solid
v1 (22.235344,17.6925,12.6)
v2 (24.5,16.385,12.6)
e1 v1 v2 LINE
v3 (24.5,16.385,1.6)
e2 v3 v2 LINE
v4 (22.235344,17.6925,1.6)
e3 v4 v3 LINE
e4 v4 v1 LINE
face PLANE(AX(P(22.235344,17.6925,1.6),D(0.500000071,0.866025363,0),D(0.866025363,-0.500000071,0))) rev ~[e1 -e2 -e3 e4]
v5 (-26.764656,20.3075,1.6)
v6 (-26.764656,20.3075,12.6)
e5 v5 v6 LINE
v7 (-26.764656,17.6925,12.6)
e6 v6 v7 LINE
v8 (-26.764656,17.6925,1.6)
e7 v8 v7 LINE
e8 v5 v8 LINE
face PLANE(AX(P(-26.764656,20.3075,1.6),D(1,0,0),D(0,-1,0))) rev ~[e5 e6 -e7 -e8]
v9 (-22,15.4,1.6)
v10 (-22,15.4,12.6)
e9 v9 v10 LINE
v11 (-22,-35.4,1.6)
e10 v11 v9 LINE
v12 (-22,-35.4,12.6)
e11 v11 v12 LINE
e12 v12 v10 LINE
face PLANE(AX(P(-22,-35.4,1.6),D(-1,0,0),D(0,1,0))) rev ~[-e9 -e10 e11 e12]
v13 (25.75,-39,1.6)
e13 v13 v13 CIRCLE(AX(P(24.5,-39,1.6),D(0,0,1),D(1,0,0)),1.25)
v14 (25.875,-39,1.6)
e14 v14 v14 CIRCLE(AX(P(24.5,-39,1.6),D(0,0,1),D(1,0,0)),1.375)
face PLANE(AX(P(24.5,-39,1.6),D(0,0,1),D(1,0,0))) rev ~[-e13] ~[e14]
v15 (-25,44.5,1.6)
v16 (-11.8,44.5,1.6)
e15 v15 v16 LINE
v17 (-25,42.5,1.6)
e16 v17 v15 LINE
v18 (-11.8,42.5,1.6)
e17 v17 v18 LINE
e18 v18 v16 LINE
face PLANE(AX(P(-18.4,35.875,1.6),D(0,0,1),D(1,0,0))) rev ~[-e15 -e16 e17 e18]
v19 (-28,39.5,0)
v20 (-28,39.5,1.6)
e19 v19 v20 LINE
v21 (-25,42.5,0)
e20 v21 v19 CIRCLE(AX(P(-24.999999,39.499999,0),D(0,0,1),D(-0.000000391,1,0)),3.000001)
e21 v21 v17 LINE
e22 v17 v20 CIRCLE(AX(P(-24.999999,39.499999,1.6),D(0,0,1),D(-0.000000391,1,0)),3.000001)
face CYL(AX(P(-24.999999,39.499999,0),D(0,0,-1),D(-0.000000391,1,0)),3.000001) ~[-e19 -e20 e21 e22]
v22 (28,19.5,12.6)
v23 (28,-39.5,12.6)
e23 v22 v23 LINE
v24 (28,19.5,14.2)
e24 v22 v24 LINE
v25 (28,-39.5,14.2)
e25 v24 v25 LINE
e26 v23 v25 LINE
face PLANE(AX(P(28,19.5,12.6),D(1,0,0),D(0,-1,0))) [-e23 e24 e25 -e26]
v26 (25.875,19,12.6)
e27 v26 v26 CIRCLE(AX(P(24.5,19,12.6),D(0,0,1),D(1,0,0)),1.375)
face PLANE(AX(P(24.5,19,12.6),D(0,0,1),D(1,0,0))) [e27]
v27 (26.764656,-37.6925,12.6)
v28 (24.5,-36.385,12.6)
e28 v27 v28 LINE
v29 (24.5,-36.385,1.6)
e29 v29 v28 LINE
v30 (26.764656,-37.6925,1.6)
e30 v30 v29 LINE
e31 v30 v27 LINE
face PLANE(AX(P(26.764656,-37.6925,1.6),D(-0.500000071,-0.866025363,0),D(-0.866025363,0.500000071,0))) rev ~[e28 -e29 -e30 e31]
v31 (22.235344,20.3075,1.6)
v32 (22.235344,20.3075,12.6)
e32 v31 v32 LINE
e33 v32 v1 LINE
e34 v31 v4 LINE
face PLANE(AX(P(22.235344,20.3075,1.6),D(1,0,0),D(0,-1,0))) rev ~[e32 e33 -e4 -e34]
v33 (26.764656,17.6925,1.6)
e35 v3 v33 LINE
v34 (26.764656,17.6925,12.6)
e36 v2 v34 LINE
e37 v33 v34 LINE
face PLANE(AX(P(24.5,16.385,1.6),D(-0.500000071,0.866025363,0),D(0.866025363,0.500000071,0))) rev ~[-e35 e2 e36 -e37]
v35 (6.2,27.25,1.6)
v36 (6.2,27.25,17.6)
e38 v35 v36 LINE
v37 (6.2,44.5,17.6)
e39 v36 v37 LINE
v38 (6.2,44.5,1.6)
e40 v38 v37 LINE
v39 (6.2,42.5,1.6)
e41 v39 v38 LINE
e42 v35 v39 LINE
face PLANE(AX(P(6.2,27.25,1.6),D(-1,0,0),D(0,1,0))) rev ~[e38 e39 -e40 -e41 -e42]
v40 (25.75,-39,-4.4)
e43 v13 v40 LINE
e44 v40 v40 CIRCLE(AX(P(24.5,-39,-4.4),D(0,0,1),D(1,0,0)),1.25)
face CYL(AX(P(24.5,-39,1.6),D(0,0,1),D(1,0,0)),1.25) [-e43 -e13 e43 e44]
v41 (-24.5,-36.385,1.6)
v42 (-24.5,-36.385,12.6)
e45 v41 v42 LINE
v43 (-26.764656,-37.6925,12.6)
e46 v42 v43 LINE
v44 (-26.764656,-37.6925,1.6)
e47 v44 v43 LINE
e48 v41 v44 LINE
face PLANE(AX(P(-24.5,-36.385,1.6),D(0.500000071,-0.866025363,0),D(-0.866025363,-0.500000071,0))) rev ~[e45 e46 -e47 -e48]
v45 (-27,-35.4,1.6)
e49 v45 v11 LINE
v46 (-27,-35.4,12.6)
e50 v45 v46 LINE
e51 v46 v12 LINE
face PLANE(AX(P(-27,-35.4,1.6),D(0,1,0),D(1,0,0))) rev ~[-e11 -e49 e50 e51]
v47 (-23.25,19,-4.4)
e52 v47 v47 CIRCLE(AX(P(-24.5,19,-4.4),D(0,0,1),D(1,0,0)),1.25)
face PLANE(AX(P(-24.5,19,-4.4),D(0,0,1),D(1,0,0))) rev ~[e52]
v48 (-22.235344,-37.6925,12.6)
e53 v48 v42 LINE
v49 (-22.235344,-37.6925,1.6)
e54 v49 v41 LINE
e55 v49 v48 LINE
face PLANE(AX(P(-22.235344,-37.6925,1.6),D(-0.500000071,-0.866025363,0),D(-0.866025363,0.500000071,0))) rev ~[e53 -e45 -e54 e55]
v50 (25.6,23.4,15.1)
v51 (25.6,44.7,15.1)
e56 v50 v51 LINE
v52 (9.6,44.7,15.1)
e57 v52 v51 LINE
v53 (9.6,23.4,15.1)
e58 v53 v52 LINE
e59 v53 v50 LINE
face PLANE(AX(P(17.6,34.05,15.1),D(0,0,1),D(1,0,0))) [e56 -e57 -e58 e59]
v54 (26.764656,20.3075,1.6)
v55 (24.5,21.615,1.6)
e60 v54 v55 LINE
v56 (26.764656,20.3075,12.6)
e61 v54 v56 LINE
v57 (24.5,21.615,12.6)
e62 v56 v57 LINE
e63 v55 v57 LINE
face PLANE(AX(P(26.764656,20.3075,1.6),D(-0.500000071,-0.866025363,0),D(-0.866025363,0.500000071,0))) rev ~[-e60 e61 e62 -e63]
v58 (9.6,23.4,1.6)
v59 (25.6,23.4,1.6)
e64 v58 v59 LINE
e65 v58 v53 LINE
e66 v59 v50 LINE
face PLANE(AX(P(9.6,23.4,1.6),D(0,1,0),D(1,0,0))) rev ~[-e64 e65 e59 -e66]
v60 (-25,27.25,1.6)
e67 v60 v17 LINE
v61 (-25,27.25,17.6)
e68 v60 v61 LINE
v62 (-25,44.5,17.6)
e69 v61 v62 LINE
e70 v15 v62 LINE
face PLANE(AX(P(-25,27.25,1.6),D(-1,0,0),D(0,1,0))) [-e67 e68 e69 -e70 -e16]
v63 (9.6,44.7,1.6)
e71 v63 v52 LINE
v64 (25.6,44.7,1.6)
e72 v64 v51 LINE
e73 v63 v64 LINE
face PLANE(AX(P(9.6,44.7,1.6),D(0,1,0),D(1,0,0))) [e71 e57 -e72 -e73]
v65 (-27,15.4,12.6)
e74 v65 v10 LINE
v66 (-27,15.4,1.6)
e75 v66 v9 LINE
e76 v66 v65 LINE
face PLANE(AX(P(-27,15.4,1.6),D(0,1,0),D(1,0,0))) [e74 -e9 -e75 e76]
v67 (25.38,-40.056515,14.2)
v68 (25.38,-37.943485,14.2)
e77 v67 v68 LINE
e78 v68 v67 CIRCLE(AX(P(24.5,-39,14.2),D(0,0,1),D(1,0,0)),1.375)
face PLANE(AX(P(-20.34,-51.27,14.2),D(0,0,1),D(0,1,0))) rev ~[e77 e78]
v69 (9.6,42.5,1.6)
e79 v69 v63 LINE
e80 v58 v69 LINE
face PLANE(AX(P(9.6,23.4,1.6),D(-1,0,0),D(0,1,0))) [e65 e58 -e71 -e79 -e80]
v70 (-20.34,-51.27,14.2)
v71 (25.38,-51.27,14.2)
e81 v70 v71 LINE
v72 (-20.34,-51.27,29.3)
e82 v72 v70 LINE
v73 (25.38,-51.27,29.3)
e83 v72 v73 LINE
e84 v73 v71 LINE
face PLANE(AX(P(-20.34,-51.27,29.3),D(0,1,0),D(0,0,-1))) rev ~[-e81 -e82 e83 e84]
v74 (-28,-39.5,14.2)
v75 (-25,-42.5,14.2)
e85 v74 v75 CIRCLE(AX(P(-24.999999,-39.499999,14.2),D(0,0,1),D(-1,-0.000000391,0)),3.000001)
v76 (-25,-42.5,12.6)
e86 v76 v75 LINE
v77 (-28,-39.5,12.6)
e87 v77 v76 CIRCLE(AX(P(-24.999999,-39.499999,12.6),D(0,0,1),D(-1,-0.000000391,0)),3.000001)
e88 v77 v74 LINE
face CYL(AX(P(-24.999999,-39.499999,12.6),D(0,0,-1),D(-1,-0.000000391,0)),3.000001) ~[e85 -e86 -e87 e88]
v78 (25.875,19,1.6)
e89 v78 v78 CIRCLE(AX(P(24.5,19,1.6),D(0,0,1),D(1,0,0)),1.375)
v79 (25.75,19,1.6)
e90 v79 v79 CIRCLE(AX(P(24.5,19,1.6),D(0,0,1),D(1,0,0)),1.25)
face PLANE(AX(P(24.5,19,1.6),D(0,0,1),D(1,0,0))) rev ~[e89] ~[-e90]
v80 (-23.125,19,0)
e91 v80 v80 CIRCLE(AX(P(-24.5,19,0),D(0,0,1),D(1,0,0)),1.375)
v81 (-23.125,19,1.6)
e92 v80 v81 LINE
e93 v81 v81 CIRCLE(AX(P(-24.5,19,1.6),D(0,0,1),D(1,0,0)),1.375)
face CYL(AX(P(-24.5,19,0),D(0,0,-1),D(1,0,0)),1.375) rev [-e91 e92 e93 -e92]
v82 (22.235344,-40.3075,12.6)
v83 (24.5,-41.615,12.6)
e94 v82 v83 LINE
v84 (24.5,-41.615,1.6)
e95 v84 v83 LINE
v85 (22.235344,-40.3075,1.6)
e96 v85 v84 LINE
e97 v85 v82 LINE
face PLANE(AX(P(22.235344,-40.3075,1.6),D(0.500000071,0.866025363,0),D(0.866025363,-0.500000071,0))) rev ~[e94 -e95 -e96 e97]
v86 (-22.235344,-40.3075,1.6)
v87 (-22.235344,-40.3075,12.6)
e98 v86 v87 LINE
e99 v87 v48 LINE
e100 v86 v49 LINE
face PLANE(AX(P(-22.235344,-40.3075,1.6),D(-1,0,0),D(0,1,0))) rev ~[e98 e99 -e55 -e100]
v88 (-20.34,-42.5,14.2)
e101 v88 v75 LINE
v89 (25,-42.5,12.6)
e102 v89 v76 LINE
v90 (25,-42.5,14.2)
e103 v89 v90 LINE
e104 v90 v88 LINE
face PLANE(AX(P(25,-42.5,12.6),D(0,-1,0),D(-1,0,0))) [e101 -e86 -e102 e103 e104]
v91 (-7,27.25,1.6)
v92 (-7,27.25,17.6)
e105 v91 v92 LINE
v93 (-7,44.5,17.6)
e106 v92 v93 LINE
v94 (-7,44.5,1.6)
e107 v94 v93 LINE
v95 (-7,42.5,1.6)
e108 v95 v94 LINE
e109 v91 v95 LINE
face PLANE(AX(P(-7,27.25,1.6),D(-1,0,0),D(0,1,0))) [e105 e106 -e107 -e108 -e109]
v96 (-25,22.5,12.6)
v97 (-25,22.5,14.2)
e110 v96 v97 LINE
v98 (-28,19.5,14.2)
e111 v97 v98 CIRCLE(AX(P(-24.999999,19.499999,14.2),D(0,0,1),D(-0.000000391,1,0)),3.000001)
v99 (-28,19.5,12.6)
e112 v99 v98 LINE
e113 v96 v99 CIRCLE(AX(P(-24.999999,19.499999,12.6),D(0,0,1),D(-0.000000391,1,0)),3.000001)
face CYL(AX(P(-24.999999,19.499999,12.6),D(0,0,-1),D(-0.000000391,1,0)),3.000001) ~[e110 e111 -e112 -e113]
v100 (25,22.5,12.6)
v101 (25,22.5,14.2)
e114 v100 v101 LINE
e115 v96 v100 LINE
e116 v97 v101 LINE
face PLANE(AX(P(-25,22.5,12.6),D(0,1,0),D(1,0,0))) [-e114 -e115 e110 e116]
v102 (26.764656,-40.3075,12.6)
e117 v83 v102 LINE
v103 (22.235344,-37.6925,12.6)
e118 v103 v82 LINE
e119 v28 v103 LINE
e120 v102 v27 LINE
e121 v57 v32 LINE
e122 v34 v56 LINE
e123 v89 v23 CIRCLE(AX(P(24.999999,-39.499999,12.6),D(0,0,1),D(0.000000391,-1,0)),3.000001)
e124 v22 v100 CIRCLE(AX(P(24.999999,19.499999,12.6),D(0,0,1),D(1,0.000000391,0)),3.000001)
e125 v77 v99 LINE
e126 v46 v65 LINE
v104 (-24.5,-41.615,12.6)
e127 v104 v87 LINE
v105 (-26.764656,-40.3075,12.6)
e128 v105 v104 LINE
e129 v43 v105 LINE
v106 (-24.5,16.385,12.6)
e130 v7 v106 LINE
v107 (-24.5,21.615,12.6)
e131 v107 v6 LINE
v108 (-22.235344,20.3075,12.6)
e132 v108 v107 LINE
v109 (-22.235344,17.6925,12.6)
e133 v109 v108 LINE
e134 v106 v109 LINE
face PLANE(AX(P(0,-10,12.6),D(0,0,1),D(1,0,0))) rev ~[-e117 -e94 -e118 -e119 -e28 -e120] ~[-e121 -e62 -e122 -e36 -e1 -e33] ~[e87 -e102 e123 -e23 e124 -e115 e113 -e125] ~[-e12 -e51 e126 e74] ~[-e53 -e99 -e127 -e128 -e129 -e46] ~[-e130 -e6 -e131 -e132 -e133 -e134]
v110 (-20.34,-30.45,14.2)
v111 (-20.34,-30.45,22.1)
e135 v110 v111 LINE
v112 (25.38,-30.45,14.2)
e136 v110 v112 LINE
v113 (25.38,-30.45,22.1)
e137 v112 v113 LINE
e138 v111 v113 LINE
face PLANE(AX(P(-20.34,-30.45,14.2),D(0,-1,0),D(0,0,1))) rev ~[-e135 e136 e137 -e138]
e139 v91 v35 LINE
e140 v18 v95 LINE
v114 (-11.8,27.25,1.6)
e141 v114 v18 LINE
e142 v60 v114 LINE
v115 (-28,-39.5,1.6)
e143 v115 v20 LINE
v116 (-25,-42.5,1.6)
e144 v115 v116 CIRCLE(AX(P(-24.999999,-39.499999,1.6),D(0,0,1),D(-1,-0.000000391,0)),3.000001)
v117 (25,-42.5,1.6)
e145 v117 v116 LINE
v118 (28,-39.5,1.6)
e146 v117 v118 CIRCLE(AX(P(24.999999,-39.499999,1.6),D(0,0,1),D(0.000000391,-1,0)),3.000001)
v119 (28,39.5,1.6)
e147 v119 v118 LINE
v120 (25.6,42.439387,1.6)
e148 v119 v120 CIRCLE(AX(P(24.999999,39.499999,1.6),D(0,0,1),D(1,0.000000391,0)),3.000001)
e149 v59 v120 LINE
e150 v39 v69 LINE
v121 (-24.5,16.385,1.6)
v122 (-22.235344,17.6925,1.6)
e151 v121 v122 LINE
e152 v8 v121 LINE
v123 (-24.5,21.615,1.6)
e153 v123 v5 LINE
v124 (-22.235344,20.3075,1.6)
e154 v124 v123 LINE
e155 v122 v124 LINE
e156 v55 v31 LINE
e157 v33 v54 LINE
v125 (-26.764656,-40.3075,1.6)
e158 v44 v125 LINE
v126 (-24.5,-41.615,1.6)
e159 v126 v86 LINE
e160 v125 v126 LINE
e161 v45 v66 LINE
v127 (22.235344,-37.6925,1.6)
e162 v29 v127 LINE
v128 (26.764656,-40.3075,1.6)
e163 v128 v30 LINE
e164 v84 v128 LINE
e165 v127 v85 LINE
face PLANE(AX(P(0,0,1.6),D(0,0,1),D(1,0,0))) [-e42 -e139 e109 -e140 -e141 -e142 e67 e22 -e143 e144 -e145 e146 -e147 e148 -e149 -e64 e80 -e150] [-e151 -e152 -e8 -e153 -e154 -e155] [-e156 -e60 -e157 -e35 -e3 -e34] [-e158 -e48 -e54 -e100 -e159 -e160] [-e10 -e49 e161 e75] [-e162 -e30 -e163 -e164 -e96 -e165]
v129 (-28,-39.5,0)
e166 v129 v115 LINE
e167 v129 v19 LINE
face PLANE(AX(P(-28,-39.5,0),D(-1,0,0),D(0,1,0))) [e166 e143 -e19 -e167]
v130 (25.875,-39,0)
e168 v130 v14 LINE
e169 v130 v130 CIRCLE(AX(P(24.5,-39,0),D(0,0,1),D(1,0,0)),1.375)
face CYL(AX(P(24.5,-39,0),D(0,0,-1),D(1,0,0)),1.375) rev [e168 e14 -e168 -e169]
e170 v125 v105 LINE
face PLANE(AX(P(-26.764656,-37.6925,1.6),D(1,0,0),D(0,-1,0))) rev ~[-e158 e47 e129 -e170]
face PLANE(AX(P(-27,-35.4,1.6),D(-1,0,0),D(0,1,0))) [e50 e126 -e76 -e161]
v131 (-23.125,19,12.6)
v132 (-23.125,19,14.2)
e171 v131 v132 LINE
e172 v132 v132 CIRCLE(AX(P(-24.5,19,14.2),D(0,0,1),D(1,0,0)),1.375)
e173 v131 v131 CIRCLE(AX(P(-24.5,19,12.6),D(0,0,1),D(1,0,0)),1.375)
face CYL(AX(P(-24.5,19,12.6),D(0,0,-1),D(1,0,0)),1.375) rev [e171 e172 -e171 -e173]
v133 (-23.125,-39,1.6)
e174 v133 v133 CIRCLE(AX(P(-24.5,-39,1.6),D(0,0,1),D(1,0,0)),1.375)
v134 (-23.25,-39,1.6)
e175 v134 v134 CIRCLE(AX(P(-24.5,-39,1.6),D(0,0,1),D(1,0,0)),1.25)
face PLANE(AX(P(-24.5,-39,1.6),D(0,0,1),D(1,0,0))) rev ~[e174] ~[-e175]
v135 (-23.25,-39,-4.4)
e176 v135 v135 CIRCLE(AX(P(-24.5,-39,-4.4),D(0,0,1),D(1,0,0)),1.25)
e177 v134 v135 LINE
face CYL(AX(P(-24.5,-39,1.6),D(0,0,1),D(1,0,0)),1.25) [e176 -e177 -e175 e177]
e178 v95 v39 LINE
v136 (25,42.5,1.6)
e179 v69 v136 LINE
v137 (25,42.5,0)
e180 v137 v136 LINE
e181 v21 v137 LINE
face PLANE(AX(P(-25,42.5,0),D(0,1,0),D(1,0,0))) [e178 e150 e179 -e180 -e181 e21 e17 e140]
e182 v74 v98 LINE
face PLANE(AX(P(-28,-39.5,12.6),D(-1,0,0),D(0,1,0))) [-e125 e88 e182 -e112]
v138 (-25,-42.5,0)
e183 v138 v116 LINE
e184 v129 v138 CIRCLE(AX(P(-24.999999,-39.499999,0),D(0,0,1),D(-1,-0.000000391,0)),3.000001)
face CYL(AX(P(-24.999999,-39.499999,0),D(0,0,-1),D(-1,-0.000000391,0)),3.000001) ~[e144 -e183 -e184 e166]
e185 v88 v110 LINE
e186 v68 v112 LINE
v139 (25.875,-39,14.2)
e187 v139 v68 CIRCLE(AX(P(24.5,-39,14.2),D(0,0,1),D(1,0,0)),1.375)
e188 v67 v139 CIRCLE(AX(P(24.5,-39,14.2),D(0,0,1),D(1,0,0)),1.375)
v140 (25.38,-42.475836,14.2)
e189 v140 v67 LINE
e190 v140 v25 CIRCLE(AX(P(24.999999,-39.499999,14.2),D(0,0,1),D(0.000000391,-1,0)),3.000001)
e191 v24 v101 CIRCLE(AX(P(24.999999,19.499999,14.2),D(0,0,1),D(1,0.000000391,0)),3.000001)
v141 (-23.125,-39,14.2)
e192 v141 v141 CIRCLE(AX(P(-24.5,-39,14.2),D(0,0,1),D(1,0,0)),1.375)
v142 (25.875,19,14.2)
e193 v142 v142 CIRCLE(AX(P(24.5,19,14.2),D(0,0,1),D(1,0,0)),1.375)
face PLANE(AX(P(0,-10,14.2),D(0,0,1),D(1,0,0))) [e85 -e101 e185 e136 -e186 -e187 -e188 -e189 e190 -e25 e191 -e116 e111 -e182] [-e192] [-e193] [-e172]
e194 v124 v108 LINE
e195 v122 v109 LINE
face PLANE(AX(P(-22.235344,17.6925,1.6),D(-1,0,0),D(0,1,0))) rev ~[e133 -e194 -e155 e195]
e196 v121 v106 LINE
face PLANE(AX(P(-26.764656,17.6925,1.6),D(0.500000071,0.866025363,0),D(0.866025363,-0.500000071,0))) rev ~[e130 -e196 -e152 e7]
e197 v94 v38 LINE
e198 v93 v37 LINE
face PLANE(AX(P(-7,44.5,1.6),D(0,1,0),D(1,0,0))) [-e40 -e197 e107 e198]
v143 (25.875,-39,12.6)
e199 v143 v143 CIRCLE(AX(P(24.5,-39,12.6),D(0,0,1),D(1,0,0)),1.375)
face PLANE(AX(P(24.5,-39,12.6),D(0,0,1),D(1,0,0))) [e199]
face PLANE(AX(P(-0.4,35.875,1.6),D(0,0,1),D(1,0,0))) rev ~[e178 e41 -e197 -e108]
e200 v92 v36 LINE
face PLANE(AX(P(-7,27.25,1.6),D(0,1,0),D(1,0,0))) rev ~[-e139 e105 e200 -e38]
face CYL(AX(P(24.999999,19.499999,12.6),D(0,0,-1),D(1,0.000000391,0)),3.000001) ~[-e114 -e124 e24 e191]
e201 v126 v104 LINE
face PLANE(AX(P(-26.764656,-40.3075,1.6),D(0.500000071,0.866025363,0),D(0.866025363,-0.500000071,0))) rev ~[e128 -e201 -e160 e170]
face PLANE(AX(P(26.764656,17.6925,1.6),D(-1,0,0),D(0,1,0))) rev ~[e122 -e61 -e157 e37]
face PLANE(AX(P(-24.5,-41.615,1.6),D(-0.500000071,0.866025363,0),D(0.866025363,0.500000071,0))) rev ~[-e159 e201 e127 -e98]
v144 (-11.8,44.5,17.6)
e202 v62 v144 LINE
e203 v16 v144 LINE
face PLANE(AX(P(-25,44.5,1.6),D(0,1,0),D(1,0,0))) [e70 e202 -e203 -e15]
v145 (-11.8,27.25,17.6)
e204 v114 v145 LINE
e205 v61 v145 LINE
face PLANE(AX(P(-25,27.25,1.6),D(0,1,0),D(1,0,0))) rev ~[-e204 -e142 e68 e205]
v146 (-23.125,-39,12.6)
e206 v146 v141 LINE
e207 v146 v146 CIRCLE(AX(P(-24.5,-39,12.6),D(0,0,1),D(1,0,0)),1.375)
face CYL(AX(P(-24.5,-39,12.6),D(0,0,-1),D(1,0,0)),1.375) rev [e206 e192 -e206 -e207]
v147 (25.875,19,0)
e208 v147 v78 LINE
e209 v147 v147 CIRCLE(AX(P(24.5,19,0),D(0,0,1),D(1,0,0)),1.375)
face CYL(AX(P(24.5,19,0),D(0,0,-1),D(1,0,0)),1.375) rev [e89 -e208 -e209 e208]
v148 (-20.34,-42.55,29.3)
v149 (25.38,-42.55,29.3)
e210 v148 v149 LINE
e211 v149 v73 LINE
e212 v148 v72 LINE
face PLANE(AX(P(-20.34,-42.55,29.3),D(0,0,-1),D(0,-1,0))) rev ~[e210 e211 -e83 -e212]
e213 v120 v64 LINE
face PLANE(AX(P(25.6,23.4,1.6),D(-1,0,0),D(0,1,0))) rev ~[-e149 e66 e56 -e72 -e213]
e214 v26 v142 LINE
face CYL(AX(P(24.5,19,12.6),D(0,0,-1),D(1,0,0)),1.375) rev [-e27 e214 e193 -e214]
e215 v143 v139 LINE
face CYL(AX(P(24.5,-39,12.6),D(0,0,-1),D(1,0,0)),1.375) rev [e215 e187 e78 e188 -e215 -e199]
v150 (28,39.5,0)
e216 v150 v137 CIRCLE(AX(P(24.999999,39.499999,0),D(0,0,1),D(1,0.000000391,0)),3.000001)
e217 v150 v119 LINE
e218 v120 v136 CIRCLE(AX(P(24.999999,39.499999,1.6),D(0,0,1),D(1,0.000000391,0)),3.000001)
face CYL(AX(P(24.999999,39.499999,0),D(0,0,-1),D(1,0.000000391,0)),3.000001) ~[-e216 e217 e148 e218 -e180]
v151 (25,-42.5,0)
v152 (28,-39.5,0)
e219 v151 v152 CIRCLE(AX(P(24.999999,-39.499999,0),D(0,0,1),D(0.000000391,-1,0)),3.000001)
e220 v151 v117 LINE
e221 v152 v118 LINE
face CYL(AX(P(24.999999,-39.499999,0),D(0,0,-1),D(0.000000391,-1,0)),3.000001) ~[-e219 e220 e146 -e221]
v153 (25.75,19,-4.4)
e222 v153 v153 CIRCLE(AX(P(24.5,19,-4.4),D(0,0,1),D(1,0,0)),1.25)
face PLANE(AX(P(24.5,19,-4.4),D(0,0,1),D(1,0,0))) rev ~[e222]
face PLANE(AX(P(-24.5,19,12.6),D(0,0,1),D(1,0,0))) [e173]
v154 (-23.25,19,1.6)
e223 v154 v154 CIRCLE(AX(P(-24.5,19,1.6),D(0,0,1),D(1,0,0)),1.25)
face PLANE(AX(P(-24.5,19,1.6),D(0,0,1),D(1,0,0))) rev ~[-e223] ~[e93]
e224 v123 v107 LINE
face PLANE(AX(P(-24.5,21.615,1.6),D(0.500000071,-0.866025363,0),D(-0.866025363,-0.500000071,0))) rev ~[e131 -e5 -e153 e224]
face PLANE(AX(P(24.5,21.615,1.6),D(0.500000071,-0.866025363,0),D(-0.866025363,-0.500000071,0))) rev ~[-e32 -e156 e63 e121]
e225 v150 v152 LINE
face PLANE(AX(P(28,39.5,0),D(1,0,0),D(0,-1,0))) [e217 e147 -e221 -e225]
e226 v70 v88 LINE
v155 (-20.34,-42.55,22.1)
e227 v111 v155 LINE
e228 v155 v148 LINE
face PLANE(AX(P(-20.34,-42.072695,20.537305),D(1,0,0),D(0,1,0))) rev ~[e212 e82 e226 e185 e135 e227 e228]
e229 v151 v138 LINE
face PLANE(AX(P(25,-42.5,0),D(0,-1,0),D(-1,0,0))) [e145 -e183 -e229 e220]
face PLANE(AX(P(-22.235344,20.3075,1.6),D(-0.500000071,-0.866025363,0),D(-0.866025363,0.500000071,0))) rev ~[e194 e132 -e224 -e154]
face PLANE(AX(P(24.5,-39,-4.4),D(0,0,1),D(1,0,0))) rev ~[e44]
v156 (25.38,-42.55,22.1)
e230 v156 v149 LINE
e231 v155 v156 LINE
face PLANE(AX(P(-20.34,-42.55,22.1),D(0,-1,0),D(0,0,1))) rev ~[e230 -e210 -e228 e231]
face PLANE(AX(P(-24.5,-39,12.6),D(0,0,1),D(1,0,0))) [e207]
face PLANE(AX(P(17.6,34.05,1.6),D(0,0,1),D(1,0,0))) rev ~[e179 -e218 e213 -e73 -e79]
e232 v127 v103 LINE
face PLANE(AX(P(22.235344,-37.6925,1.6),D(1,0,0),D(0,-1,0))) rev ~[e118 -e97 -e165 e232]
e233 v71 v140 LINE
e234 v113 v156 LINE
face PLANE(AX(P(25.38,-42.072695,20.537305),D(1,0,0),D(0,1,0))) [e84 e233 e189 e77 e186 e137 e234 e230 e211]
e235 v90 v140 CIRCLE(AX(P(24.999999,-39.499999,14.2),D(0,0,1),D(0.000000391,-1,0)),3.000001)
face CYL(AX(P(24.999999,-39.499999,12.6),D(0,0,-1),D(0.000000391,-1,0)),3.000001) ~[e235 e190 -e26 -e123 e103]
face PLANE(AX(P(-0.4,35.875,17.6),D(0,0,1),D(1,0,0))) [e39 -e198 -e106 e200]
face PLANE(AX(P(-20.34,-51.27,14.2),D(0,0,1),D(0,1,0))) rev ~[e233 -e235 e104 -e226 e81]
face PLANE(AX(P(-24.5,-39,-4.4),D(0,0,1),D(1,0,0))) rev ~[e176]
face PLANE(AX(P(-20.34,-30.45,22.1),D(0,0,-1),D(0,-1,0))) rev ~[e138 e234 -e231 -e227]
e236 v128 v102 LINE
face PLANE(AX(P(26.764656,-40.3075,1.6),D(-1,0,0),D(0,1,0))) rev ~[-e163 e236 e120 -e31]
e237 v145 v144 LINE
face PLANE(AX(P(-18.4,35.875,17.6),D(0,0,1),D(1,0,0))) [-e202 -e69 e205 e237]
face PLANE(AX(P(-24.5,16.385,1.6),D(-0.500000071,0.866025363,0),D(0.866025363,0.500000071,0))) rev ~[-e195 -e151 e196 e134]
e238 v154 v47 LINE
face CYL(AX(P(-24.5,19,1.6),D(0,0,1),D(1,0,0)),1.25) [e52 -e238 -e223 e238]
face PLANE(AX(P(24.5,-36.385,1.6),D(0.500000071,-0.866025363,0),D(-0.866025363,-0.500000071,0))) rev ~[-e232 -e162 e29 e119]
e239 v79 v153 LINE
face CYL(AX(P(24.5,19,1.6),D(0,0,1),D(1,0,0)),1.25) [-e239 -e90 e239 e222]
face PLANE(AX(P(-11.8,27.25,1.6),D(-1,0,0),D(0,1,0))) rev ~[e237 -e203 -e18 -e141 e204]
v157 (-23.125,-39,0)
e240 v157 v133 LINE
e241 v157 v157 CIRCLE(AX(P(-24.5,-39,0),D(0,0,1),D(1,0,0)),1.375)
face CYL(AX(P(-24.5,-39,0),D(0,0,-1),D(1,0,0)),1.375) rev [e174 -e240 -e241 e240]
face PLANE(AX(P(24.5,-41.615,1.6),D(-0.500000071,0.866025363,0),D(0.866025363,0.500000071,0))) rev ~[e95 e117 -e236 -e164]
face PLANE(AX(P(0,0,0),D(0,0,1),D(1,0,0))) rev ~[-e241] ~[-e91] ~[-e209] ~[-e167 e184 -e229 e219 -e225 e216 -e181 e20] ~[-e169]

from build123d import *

# Parameters (mm, degrees)
SKETCH_R     = 1.375
PAD_DEPTH    = 1.6
SKETCH001_W  = 16
SKETCH001_H  = 21.3
PAD001_DEPTH = 13.5
SKETCH002_W  = 13.2
SKETCH002_H  = 17.25
PAD002_DEPTH = 16
PAD008_DEPTH = 11
SKETCH011_R  = 1.25
PAD009_DEPTH = 6
SKETCH012_W  = 5
SKETCH012_H  = 50.8
PAD010_DEPTH = 11
SKETCH013_R  = 1.375
PAD011_DEPTH = 1.6
PAD012_DEPTH = 45.72


with BuildPart() as part:
    # Sketch → Pad (new body)
    with BuildSketch(Plane.XY):
        with BuildLine():
            ThreePointArc((-25, 42.5), (-27.12132, 41.62132), (-28, 39.5))
            Line((-28, -39.5), (-28, 39.5))
            ThreePointArc((-28, -39.5), (-27.12132, -41.62132), (-25, -42.5))
            Line((25, -42.5), (-25, -42.5))
            ThreePointArc((25, -42.5), (27.12132, -41.62132), (28, -39.5))
            Line((28, 39.5), (28, -39.5))
            ThreePointArc((28, 39.5), (27.12132, 41.62132), (25, 42.5))
            Line((-25, 42.5), (25, 42.5))
        make_face()
        with Locations((-24.5, 19)):
            Circle(SKETCH_R, mode=Mode.SUBTRACT)
        with Locations((24.5, 19)):
            Circle(SKETCH_R, mode=Mode.SUBTRACT)
        with Locations((-24.5, -39)):
            Circle(SKETCH_R, mode=Mode.SUBTRACT)
        with Locations((24.5, -39)):
            Circle(SKETCH_R, mode=Mode.SUBTRACT)
    extrude(amount=PAD_DEPTH)

    # Sketch001 → Pad001 (join)
    with BuildSketch(Plane.XY.offset(1.6)):
        with Locations((17.6, 34.05)):
            Rectangle(SKETCH001_W, SKETCH001_H)
    extrude(amount=PAD001_DEPTH)

    # Sketch002 → Pad002 (join)
    with BuildSketch(Plane.XY.offset(1.6)):
        with Locations((-18.4, 35.875)):
            Rectangle(SKETCH002_W, SKETCH002_H)
        with Locations((-0.4, 35.875)):
            Rectangle(SKETCH002_W, SKETCH002_H)
    extrude(amount=PAD002_DEPTH)

    # Sketch010 → Pad008 (join)
    with BuildSketch(Plane.XY.offset(1.6)):
        Polygon((-22.235344, -40.3075), (-22.235344, -37.6925), (-24.5, -36.385), (-26.764656, -37.6925), (-26.764656, -40.3075), (-24.5, -41.615), align=None)
        Polygon((-22.235344, 17.6925), (-22.235344, 20.3075), (-24.5, 21.615), (-26.764656, 20.3075), (-26.764656, 17.6925), (-24.5, 16.385), align=None)
        Polygon((24.5, -41.615), (26.764656, -40.3075), (26.764656, -37.6925), (24.5, -36.385), (22.235344, -37.6925), (22.235344, -40.3075), align=None)
        Polygon((24.5, 16.385), (26.764656, 17.6925), (26.764656, 20.3075), (24.5, 21.615), (22.235344, 20.3075), (22.235344, 17.6925), align=None)
    extrude(amount=PAD008_DEPTH)

    # Sketch011 → Pad009 (join)
    with BuildSketch(Plane.XY.offset(1.6)):
        with Locations((-24.5, 19)):
            Circle(SKETCH011_R)
        with Locations((-24.5, -39)):
            Circle(SKETCH011_R)
        with Locations((24.5, 19)):
            Circle(SKETCH011_R)
        with Locations((24.5, -39)):
            Circle(SKETCH011_R)
    extrude(amount=-PAD009_DEPTH)

    # Sketch012 → Pad010 (join)
    with BuildSketch(Plane.XY.offset(1.6)):
        with Locations((-24.5, -10)):
            Rectangle(SKETCH012_W, SKETCH012_H)
    extrude(amount=PAD010_DEPTH)

    # Sketch013 → Pad011 (join)
    with BuildSketch(Plane.XY.offset(12.6)):
        with BuildLine():
            ThreePointArc((-25, 22.5), (-27.12132, 21.62132), (-28, 19.5))
            Line((-28, -39.5), (-28, 19.5))
            ThreePointArc((-28, -39.5), (-27.12132, -41.62132), (-25, -42.5))
            Line((25, -42.5), (-25, -42.5))
            ThreePointArc((25, -42.5), (27.12132, -41.62132), (28, -39.5))
            Line((28, 19.5), (28, -39.5))
            ThreePointArc((28, 19.5), (27.12132, 21.62132), (25, 22.5))
            Line((-25, 22.5), (25, 22.5))
        make_face()
        with Locations((-24.5, 19)):
            Circle(SKETCH013_R, mode=Mode.SUBTRACT)
        with Locations((24.5, 19)):
            Circle(SKETCH013_R, mode=Mode.SUBTRACT)
        with Locations((-24.5, -39)):
            Circle(SKETCH013_R, mode=Mode.SUBTRACT)
        with Locations((24.5, -39)):
            Circle(SKETCH013_R, mode=Mode.SUBTRACT)
    extrude(amount=PAD011_DEPTH)

    # Sketch014 → Pad012 (join)
    with BuildSketch(Plane(origin=(-20.34, -30.45, 14.2), x_dir=(0, 1, 0), z_dir=(1, 0, 0))):
        Polygon((0, 0), (0, 7.9), (-12.1, 7.9), (-12.1, 15.1), (-20.82, 15.1), (-20.82, 0), align=None)
    extrude(amount=PAD012_DEPTH)


solid = part.part
